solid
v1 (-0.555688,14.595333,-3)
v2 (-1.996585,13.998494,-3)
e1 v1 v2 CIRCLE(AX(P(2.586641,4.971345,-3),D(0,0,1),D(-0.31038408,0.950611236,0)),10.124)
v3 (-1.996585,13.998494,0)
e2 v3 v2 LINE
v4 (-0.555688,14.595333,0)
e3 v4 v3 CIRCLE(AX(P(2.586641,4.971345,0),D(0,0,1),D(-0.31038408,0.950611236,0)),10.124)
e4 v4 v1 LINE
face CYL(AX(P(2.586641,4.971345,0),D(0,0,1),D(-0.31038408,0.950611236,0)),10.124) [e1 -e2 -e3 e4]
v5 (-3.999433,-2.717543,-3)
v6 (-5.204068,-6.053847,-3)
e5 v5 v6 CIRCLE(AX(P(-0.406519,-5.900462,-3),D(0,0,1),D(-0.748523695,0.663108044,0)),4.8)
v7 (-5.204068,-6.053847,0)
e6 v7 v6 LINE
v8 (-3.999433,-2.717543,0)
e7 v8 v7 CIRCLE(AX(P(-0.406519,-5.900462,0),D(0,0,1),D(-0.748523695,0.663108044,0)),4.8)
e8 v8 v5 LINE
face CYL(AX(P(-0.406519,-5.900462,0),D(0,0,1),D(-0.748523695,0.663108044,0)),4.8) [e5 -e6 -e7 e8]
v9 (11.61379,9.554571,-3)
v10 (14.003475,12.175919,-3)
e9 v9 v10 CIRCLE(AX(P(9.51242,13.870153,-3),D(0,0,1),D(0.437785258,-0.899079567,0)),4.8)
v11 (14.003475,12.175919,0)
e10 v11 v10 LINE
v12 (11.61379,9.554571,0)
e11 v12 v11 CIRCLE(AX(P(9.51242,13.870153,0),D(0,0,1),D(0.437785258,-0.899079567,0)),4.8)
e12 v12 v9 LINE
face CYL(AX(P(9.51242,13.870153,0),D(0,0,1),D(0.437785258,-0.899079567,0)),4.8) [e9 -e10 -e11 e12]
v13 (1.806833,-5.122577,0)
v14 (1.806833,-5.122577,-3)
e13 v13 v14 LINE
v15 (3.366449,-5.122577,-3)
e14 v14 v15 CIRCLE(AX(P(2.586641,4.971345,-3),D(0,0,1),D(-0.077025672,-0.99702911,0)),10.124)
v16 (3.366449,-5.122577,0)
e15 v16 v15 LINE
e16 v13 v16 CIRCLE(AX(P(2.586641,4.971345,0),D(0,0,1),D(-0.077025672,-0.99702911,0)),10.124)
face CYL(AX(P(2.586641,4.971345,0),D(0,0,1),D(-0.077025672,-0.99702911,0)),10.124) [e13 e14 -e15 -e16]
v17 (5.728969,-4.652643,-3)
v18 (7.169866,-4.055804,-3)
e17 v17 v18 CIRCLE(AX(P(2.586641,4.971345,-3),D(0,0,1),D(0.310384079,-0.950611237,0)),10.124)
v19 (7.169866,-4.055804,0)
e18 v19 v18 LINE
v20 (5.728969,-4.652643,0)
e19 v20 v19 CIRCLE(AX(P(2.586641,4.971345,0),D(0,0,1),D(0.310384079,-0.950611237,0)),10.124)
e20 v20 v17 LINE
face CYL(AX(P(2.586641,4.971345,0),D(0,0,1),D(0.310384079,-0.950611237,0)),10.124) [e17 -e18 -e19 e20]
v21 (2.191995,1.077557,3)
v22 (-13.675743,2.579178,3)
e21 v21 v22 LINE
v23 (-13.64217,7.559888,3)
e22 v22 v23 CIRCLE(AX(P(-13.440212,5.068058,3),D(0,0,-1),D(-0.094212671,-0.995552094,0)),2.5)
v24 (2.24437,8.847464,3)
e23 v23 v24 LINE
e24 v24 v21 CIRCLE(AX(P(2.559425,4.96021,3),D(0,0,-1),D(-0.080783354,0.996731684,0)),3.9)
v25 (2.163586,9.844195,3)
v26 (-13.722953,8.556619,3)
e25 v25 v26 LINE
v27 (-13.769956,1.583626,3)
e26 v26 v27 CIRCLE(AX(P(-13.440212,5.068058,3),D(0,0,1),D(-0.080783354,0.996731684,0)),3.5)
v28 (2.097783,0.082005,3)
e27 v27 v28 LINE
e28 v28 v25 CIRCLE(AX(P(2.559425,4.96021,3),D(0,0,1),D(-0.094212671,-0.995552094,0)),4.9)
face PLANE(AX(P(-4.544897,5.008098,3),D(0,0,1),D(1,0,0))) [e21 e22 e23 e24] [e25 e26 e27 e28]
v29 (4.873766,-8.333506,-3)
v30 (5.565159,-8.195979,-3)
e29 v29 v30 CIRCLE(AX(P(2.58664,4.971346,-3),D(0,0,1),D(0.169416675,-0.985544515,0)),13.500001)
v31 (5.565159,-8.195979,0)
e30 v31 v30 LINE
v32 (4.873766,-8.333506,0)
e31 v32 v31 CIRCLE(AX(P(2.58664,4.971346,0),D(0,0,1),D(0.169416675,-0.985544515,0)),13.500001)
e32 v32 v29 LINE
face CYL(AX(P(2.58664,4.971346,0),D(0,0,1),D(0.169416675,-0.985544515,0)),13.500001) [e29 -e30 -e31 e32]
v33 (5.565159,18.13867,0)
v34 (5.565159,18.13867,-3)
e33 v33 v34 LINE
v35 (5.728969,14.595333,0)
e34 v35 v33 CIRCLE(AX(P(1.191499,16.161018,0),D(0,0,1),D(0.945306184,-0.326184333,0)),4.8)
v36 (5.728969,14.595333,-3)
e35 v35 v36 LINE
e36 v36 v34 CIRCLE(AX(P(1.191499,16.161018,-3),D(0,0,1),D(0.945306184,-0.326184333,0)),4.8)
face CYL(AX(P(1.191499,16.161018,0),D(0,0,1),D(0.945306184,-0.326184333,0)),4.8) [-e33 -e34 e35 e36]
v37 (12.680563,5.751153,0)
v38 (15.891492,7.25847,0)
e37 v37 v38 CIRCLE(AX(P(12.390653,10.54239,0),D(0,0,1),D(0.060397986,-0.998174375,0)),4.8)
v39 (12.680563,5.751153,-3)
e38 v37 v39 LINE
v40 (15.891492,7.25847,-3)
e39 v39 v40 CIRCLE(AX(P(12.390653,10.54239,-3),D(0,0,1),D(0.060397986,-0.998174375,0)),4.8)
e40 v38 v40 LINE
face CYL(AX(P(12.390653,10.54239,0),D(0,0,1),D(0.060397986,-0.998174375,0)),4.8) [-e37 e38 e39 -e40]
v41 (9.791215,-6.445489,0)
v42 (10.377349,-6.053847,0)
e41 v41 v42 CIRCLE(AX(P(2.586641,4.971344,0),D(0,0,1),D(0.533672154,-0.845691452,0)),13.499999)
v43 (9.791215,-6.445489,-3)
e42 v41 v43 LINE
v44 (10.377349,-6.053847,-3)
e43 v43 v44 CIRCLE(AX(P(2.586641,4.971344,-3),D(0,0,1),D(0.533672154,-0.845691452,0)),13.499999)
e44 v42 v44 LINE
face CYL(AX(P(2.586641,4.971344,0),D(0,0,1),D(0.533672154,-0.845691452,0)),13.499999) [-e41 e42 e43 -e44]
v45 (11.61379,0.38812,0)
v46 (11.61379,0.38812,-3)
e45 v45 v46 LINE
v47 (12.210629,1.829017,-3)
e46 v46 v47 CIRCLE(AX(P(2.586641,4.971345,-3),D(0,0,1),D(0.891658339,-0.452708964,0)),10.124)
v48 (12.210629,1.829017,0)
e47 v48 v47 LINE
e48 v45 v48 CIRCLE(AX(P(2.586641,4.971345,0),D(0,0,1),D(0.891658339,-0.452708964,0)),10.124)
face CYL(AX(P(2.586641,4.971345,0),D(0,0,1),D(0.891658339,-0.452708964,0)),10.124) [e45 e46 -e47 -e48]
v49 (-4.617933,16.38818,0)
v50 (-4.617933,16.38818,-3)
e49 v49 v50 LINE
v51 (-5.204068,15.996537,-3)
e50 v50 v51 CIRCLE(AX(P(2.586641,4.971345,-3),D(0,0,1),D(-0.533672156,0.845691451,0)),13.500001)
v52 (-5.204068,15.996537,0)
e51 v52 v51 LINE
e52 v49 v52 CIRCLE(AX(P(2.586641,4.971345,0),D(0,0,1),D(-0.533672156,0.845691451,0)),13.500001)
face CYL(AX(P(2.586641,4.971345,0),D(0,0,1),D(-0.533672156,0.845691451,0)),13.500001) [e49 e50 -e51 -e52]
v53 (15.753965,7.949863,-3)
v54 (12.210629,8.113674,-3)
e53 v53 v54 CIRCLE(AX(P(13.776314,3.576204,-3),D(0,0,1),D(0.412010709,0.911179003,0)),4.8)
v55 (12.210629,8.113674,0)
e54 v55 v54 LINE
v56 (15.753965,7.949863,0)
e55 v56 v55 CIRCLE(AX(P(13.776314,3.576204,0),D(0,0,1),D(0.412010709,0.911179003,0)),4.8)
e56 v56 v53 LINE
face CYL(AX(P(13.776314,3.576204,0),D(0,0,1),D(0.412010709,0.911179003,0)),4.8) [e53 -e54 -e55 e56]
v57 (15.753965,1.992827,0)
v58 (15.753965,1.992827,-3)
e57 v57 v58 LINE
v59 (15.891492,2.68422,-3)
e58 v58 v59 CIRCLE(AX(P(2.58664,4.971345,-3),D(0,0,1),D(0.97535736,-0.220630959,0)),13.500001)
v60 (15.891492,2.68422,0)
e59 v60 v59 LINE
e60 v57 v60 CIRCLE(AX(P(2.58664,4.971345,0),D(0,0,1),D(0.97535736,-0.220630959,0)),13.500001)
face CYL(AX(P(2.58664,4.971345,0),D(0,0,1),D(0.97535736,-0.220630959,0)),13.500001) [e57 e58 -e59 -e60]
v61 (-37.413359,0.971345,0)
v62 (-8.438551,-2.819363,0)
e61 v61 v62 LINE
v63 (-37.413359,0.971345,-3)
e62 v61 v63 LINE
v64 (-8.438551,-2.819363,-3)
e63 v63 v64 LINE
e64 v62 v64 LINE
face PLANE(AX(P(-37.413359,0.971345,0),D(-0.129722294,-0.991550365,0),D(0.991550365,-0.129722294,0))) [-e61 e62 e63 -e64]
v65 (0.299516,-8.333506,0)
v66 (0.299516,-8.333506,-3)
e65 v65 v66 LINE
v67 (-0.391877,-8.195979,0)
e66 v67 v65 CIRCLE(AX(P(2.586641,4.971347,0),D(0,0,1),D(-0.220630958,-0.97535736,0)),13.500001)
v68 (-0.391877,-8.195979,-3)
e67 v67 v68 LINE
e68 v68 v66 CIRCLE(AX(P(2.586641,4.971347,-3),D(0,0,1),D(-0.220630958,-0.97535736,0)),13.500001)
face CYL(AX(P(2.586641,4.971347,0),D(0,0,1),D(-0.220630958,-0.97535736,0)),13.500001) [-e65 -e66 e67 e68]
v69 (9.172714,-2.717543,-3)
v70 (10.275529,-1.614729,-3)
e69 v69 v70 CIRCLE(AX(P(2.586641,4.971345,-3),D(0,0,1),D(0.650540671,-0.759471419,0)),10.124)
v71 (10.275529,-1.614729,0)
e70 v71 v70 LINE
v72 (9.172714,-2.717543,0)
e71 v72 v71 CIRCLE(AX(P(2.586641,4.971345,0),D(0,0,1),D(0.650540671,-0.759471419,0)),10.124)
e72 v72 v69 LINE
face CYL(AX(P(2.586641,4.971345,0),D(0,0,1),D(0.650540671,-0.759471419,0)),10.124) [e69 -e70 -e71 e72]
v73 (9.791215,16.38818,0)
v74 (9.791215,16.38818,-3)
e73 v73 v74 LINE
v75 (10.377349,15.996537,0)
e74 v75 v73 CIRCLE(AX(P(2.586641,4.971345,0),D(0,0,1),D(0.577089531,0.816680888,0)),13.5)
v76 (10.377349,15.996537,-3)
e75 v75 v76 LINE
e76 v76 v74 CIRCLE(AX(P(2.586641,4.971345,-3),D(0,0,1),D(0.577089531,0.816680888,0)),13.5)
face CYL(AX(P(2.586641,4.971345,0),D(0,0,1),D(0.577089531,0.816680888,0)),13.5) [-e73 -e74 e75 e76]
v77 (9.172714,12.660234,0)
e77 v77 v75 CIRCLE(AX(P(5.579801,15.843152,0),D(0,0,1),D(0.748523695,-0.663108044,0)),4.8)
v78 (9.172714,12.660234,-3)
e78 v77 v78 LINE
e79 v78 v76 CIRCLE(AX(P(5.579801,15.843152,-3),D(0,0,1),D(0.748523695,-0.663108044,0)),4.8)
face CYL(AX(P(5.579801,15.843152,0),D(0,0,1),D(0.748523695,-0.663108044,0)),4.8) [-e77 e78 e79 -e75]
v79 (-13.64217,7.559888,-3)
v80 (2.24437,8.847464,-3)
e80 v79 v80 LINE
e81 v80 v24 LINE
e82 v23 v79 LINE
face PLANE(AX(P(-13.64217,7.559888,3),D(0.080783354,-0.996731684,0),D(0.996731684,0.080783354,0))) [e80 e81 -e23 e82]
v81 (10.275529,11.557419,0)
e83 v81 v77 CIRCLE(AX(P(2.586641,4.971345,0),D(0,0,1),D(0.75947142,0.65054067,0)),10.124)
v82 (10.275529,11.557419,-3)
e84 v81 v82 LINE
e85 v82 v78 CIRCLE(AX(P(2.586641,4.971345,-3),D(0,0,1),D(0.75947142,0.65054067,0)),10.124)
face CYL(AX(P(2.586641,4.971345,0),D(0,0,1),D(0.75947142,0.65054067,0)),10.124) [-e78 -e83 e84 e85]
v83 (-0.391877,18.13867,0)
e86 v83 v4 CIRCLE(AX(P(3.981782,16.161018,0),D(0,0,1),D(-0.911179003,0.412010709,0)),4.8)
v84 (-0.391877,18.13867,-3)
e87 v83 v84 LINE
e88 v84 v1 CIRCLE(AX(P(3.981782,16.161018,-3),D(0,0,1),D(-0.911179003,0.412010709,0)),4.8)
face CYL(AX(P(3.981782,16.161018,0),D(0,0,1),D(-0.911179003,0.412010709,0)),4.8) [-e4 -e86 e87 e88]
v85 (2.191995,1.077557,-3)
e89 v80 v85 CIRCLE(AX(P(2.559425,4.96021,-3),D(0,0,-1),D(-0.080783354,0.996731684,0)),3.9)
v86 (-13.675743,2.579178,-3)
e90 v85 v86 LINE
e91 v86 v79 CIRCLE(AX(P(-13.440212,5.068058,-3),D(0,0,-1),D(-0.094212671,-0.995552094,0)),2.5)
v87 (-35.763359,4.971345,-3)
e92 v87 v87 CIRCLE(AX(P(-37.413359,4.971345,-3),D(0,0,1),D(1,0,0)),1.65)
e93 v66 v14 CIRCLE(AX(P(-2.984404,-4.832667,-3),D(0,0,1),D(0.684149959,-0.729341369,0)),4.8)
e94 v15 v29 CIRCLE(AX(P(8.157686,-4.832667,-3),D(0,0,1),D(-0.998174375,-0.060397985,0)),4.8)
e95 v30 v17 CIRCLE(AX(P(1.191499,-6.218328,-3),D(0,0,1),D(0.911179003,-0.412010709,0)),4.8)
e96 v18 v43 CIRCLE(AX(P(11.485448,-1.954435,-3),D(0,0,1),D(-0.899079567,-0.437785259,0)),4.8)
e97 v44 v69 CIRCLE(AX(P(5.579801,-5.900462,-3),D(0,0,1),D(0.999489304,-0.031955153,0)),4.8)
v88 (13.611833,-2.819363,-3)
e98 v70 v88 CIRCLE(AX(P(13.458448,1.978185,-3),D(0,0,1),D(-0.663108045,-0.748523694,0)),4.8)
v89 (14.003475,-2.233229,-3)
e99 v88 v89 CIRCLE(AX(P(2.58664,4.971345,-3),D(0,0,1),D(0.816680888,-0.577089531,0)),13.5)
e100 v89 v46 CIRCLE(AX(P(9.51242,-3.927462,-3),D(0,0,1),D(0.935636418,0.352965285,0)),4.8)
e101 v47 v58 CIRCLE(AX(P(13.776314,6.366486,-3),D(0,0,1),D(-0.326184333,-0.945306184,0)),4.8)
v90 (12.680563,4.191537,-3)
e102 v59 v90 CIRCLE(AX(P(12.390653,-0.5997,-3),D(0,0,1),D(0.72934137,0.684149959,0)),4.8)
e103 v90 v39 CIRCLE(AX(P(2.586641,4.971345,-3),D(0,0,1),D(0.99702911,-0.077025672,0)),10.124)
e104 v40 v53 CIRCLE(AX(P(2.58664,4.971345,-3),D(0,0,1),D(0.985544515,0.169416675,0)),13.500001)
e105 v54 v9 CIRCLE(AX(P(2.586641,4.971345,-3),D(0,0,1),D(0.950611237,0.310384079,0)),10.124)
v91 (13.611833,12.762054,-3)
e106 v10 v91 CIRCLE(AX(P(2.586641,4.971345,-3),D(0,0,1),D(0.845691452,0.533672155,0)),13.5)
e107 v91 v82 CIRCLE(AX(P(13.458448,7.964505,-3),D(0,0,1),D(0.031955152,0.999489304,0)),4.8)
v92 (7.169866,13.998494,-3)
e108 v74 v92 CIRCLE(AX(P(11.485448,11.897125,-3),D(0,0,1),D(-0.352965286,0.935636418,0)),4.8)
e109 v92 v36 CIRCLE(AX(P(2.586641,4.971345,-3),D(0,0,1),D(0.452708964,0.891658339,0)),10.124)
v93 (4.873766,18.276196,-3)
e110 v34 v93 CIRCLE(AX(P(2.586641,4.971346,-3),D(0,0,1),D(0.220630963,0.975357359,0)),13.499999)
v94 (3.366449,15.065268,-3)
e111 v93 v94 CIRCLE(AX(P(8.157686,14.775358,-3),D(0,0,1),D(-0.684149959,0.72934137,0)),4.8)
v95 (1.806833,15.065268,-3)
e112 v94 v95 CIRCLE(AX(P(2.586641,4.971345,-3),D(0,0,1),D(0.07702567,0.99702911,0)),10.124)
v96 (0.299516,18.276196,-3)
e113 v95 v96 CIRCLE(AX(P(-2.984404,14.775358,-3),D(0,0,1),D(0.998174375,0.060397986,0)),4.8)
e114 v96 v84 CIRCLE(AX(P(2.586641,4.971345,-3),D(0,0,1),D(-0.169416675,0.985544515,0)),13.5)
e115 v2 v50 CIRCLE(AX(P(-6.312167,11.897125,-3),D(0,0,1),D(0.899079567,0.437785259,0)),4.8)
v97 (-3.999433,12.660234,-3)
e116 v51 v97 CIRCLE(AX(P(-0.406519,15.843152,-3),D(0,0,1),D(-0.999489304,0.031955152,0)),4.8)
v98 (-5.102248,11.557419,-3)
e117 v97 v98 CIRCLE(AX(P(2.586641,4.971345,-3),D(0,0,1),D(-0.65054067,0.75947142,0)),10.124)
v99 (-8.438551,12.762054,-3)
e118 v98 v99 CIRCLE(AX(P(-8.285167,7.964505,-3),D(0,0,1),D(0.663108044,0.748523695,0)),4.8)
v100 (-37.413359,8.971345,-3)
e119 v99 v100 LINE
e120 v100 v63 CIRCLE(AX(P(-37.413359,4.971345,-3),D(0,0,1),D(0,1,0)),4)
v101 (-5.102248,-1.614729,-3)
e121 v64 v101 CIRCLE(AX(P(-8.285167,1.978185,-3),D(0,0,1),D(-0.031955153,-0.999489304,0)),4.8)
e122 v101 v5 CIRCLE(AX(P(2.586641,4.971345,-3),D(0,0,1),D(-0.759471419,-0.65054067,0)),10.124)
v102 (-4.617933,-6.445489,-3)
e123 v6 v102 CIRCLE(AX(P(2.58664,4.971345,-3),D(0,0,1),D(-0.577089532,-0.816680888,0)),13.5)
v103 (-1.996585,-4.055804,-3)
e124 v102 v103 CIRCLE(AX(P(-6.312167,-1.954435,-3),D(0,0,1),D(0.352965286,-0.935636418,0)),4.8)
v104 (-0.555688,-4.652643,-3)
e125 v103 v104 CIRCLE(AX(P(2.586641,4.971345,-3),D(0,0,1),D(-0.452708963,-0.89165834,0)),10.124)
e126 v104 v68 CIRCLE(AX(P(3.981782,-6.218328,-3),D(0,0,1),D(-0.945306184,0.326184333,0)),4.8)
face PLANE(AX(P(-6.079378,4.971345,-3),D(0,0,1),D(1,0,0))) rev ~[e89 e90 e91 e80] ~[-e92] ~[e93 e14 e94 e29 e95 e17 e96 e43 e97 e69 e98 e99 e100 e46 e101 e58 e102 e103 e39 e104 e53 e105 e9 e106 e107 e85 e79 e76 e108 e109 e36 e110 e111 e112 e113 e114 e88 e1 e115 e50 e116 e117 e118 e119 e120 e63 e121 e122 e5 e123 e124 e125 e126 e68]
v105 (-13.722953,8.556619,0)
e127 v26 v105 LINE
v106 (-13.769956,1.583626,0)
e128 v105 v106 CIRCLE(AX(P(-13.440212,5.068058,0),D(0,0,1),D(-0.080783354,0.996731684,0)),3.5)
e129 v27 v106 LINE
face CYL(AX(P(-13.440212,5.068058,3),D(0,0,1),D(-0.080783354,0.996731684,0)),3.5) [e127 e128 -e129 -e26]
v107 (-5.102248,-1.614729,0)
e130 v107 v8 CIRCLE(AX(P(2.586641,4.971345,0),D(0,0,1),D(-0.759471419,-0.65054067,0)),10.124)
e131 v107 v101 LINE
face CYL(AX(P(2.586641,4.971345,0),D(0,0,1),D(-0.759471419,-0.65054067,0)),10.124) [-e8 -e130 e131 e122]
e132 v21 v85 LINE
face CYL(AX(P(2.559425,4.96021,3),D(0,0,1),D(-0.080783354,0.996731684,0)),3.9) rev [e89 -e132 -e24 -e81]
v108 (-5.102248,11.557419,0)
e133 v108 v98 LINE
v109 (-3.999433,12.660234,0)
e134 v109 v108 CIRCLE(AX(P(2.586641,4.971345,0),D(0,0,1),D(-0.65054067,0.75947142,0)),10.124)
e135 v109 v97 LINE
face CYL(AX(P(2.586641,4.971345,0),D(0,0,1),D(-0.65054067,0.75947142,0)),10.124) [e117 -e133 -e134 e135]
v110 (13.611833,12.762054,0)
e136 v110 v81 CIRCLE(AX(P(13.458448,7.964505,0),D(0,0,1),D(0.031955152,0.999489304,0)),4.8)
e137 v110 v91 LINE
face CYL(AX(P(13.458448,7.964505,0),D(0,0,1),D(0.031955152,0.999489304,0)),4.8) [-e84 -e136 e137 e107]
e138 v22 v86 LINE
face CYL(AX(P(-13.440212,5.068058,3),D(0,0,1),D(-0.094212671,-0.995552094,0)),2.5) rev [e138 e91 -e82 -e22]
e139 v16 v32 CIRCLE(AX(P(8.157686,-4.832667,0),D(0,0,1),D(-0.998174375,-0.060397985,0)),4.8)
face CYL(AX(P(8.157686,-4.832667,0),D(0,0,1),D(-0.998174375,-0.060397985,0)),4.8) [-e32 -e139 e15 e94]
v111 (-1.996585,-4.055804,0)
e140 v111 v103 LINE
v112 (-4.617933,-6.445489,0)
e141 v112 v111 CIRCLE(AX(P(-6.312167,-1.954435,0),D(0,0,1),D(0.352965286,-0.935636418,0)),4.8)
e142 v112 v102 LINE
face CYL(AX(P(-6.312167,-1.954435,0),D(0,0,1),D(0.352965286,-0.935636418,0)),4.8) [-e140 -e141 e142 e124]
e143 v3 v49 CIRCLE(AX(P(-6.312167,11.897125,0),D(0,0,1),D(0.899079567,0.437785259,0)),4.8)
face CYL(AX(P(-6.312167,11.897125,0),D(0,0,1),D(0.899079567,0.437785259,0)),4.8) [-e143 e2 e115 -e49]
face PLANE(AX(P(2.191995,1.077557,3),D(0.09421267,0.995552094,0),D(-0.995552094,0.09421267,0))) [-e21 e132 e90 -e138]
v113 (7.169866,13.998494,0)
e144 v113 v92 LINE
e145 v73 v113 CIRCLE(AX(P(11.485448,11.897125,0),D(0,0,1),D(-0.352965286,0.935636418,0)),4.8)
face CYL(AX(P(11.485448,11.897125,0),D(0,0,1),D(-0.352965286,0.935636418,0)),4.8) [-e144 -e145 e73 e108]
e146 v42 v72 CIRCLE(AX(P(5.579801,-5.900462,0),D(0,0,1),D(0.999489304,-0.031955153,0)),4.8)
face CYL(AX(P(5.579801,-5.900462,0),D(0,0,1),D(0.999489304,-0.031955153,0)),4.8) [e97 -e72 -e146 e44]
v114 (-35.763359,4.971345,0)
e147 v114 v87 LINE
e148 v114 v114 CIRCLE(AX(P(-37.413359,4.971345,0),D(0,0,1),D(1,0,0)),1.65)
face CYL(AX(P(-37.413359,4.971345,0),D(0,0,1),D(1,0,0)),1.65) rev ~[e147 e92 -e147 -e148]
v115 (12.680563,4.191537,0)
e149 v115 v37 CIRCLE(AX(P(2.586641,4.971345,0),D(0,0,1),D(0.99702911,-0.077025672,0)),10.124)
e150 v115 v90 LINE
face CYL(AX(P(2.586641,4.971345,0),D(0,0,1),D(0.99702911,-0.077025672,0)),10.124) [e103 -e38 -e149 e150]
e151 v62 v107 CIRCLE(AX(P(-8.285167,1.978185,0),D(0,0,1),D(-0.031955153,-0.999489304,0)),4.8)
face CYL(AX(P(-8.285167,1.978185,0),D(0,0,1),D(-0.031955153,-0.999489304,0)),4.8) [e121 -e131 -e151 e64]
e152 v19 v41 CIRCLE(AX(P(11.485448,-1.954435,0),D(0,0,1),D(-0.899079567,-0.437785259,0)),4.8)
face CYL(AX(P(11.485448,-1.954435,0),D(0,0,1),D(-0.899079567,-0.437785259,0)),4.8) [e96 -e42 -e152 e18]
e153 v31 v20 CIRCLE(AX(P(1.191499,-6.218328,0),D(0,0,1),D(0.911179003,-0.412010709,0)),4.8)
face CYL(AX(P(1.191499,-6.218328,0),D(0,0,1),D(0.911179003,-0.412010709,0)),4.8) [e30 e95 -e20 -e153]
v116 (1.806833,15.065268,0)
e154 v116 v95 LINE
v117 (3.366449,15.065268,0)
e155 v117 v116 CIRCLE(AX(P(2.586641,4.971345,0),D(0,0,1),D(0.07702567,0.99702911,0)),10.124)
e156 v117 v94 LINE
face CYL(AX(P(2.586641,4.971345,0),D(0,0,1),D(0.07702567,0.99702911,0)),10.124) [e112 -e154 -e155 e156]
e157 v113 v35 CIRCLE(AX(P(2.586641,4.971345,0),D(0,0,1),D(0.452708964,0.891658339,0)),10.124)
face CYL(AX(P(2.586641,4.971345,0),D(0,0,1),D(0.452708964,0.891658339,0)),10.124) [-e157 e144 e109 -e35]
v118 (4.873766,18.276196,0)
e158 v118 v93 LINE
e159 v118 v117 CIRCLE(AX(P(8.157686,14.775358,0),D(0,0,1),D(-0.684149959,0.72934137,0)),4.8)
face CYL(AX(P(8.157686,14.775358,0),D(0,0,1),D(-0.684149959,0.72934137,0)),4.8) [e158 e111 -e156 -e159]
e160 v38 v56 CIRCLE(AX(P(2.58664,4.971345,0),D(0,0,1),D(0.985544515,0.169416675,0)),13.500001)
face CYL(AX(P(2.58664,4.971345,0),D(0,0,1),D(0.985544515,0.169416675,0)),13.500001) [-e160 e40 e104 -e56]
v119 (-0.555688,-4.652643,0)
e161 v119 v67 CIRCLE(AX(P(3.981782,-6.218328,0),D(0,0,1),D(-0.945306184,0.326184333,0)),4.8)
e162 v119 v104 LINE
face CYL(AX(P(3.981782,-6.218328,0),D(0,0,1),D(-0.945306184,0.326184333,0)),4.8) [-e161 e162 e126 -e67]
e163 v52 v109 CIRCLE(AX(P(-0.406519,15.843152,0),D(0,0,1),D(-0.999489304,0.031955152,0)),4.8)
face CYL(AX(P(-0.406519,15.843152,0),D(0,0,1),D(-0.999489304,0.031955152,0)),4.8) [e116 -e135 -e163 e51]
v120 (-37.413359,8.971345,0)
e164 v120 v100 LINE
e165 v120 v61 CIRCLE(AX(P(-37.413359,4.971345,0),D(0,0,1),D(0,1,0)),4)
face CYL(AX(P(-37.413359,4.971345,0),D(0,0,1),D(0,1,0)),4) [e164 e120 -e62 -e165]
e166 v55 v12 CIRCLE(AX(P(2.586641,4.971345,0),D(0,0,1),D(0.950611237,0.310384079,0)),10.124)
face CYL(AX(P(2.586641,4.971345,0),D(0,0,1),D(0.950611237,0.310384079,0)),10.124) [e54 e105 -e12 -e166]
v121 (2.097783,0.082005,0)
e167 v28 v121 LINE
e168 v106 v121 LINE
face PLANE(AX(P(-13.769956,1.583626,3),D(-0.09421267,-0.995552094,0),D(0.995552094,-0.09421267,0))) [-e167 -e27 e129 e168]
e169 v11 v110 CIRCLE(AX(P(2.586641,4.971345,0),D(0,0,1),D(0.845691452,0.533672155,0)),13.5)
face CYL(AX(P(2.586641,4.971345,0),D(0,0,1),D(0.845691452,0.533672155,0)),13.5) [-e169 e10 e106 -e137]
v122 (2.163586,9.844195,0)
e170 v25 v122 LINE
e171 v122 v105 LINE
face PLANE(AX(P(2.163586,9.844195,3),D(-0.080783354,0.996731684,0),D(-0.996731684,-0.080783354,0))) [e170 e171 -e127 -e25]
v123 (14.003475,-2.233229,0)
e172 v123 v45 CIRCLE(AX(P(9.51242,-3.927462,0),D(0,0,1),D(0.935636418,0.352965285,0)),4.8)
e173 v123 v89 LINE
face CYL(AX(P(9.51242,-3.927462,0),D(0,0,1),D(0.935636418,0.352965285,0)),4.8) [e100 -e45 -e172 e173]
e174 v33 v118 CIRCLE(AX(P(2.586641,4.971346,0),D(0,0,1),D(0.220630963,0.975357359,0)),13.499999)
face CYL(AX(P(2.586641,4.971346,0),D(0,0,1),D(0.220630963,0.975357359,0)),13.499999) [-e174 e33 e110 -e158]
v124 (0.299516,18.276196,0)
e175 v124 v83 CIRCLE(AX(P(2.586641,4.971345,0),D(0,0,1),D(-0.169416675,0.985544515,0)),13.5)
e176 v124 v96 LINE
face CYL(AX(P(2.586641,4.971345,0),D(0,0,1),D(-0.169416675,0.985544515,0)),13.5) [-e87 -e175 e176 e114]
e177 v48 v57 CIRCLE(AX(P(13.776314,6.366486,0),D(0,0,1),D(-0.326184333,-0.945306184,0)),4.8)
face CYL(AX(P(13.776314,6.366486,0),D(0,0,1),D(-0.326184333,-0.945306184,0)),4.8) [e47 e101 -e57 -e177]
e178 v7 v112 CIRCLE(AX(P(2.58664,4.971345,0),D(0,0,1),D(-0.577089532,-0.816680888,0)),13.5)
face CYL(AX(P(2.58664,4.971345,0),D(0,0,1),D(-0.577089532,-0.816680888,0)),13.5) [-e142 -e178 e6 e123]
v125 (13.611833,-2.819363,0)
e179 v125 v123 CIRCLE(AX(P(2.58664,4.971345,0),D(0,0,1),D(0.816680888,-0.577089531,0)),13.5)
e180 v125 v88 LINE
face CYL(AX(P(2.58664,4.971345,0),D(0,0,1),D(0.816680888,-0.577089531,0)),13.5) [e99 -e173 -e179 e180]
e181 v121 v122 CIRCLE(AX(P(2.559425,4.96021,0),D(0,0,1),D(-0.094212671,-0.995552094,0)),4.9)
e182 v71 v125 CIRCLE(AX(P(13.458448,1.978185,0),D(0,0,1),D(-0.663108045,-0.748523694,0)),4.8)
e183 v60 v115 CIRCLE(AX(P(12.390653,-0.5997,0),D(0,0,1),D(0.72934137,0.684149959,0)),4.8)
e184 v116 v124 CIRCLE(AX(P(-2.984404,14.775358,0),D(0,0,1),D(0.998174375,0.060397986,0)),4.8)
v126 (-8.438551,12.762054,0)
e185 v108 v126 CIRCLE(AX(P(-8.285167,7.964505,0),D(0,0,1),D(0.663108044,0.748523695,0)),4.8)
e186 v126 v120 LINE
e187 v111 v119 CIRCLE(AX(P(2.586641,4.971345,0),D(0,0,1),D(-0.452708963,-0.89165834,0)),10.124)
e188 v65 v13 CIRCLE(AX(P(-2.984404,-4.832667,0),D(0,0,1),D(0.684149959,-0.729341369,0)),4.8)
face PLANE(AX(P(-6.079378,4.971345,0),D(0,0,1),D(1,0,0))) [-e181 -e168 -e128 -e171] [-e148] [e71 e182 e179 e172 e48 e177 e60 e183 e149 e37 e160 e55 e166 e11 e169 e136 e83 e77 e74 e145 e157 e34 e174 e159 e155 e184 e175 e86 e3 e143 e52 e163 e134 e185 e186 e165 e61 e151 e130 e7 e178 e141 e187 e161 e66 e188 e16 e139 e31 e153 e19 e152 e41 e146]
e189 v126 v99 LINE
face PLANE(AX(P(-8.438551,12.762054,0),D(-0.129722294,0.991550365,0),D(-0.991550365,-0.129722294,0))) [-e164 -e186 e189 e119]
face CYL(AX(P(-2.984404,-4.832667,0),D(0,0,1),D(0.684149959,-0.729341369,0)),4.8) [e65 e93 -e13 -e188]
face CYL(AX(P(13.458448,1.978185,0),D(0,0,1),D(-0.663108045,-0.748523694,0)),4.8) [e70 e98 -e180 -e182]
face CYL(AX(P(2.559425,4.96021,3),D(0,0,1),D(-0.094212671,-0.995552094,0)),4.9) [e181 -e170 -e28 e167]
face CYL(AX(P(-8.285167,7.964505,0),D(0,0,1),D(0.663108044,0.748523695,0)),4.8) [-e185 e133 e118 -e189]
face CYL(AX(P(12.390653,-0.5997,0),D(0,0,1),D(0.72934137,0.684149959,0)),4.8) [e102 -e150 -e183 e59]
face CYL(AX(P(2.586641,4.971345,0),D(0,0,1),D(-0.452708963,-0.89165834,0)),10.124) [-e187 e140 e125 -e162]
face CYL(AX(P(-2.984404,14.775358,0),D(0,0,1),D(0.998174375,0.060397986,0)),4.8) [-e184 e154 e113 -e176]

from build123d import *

# Parameters (mm, degrees)
SKETCH1_R           = 1.65
BOSS_EXTRUDE1_DEPTH = 3
BOSS_EXTRUDE2_START = 3
BOSS_EXTRUDE2_DEPTH = 3


with BuildPart() as part:
    # Sketch1 → Boss-Extrude1 (new body)
    with BuildSketch(Plane.XY):
        with BuildLine():
            ThreePointArc((-5.102248015, 11.557418974), (-6.655042336, 12.47922503), (-8.43855136, 12.762053897))
            Line((-8.43855136, 12.762053897), (-37.413359367, 8.97134523))
            ThreePointArc((-37.413359367, 8.97134523), (-41.413359367, 4.97134523), (-37.413359367, 0.97134523))
            Line((-37.413359367, 0.97134523), (-8.43855136, -2.819363436))
            ThreePointArc((-8.43855136, -2.819363436), (-6.655042336, -2.53653457), (-5.102248015, -1.614728513))
            ThreePointArc((-5.102248015, -1.614728513), (-4.57210842, -2.187403822), (-3.999433111, -2.717543418))
            ThreePointArc((-3.999433111, -2.717543418), (-4.921239167, -4.270337738), (-5.204068034, -6.053846762))
            ThreePointArc((-5.204068034, -6.053846762), (-4.913557513, -6.253494536), (-4.617933458, -6.445489365))
            ThreePointArc((-4.617933458, -6.445489365), (-3.078419896, -5.501670209), (-1.996584911, -4.0558038))
            ThreePointArc((-1.996584911, -4.0558038), (-1.287646436, -4.382011157), (-0.5556878, -4.652642925))
            ThreePointArc((-0.5556878, -4.652642925), (-0.813096888, -6.439997722), (-0.391877334, -8.195979127))
            ThreePointArc((-0.391877334, -8.195979127), (-0.047078714, -8.269256055), (0.299515539, -8.33350572))
            ThreePointArc((0.299515539, -8.33350572), (1.360656655, -6.872384185), (1.806832736, -5.122577478))
            ThreePointArc((1.806832736, -5.122577478), (2.586640633, -5.15265477), (3.36644853, -5.122577478))
            ThreePointArc((3.36644853, -5.122577478), (3.81262461, -6.872384185), (4.873765726, -8.33350572))
            ThreePointArc((4.873765726, -8.33350572), (5.22035998, -8.269256055), (5.565158599, -8.195979127))
            ThreePointArc((5.565158599, -8.195979127), (5.986378153, -6.439997722), (5.728969065, -4.652642925))
            ThreePointArc((5.728969065, -4.652642925), (6.460927702, -4.382011157), (7.169866176, -4.0558038))
            ThreePointArc((7.169866176, -4.0558038), (8.251701162, -5.501670209), (9.791214724, -6.445489365))
            ThreePointArc((9.791214724, -6.445489365), (10.086838779, -6.253494536), (10.377349299, -6.053846762))
            ThreePointArc((10.377349299, -6.053846762), (10.094520433, -4.270337738), (9.172714377, -2.717543418))
            ThreePointArc((9.172714377, -2.717543418), (9.745389686, -2.187403822), (10.275529281, -1.614728513))
            ThreePointArc((10.275529281, -1.614728513), (11.828323601, -2.53653457), (13.611832625, -2.819363436))
            ThreePointArc((13.611832625, -2.819363436), (13.811480399, -2.528852915), (14.003475228, -2.233228861))
            ThreePointArc((14.003475228, -2.233228861), (13.059656072, -0.693715298), (11.613789663, 0.388119687))
            ThreePointArc((11.613789663, 0.388119687), (11.93999702, 1.097058161), (12.210628788, 1.829016798))
            ThreePointArc((12.210628788, 1.829016798), (13.997983585, 1.57160771), (15.75396499, 1.992827264))
            ThreePointArc((15.75396499, 1.992827264), (15.827241918, 2.337625883), (15.891491583, 2.684220137))
            ThreePointArc((15.891491583, 2.684220137), (14.430370048, 3.745361253), (12.680563341, 4.191537333))
            ThreePointArc((12.680563341, 4.191537333), (12.710640633, 4.97134523), (12.680563341, 5.751153127))
            ThreePointArc((12.680563341, 5.751153127), (14.430370048, 6.197329208), (15.891491583, 7.258470324))
            ThreePointArc((15.891491583, 7.258470324), (15.827241918, 7.605064578), (15.75396499, 7.949863197))
            ThreePointArc((15.75396499, 7.949863197), (13.997983585, 8.371082751), (12.210628788, 8.113673663))
            ThreePointArc((12.210628788, 8.113673663), (11.93999702, 8.8456323), (11.613789663, 9.554570774))
            ThreePointArc((11.613789663, 9.554570774), (13.059656072, 10.636405759), (14.003475228, 12.175919321))
            ThreePointArc((14.003475228, 12.175919321), (13.811480399, 12.471543376), (13.611832625, 12.762053897))
            ThreePointArc((13.611832625, 12.762053897), (11.828323601, 12.47922503), (10.275529281, 11.557418974))
            ThreePointArc((10.275529281, 11.557418974), (9.745389686, 12.130094283), (9.172714377, 12.660233878))
            ThreePointArc((9.172714377, 12.660233878), (10.094520433, 14.213028199), (10.377349299, 15.996537223))
            ThreePointArc((10.377349299, 15.996537223), (10.086838779, 16.196184996), (9.791214724, 16.388179825))
            ThreePointArc((9.791214724, 16.388179825), (8.251701162, 15.444360669), (7.169866176, 13.998494261))
            ThreePointArc((7.169866176, 13.998494261), (6.460927702, 14.324701618), (5.728969065, 14.595333386))
            ThreePointArc((5.728969065, 14.595333386), (5.986378153, 16.382688183), (5.565158599, 18.138669587))
            ThreePointArc((5.565158599, 18.138669587), (5.22035998, 18.211946516), (4.873765726, 18.276196181))
            ThreePointArc((4.873765726, 18.276196181), (3.81262461, 16.815074646), (3.36644853, 15.065267939))
            ThreePointArc((3.36644853, 15.065267939), (2.586640633, 15.09534523), (1.806832736, 15.065267939))
            ThreePointArc((1.806832736, 15.065267939), (1.360656655, 16.815074646), (0.299515539, 18.276196181))
            ThreePointArc((0.299515539, 18.276196181), (-0.047078714, 18.211946516), (-0.391877334, 18.138669587))
            ThreePointArc((-0.391877334, 18.138669587), (-0.813096888, 16.382688183), (-0.5556878, 14.595333386))
            ThreePointArc((-0.5556878, 14.595333386), (-1.287646436, 14.324701618), (-1.996584911, 13.998494261))
            ThreePointArc((-1.996584911, 13.998494261), (-3.078419896, 15.444360669), (-4.617933458, 16.388179825))
            ThreePointArc((-4.617933458, 16.388179825), (-4.913557513, 16.196184996), (-5.204068034, 15.996537223))
            ThreePointArc((-5.204068034, 15.996537223), (-4.921239167, 14.213028199), (-3.999433111, 12.660233878))
            ThreePointArc((-3.999433111, 12.660233878), (-4.57210842, 12.130094283), (-5.102248015, 11.557418974))
        make_face()
        with BuildLine():
            ThreePointArc((2.244369697, 8.847463799), (6.459336179, 4.933922237), (2.191995363, 1.077557063))
            Line((2.191995363, 1.077557063), (-13.675743419, 2.579178177))
            ThreePointArc((-13.675743419, 2.579178177), (-15.940154949, 5.084909691), (-13.642170127, 7.559887623))
            Line((-13.642170127, 7.559887623), (2.244369697, 8.847463799))
        make_face(mode=Mode.SUBTRACT)
        with Locations((-37.413359367, 4.97134523)):
            Circle(SKETCH1_R, mode=Mode.SUBTRACT)
    extrude(amount=-BOSS_EXTRUDE1_DEPTH)

    # Sketch1<3> → Boss-Extrude2 (add)
    with BuildSketch(Plane.XY.offset(BOSS_EXTRUDE2_START)):
        with BuildLine():
            Line((2.163586343, 9.844195483), (-13.722953481, 8.556619307))
            ThreePointArc((-13.722953481, 8.556619307), (-16.940132231, 5.091650203), (-13.769956089, 1.583626083))
            Line((-13.769956089, 1.583626083), (2.097782692, 0.082004969))
            ThreePointArc((2.097782692, 0.082004969), (7.459313462, 4.927181726), (2.163586343, 9.844195483))
        make_face()
        with BuildLine():
            ThreePointArc((2.244369697, 8.847463799), (6.459336179, 4.933922237), (2.191995363, 1.077557063))
            Line((2.191995363, 1.077557063), (-13.675743419, 2.579178177))
            ThreePointArc((-13.675743419, 2.579178177), (-15.940154949, 5.084909691), (-13.642170127, 7.559887623))
            Line((-13.642170127, 7.559887623), (2.244369697, 8.847463799))
        make_face(mode=Mode.SUBTRACT)
    extrude(amount=-BOSS_EXTRUDE2_DEPTH)


solid = part.part
